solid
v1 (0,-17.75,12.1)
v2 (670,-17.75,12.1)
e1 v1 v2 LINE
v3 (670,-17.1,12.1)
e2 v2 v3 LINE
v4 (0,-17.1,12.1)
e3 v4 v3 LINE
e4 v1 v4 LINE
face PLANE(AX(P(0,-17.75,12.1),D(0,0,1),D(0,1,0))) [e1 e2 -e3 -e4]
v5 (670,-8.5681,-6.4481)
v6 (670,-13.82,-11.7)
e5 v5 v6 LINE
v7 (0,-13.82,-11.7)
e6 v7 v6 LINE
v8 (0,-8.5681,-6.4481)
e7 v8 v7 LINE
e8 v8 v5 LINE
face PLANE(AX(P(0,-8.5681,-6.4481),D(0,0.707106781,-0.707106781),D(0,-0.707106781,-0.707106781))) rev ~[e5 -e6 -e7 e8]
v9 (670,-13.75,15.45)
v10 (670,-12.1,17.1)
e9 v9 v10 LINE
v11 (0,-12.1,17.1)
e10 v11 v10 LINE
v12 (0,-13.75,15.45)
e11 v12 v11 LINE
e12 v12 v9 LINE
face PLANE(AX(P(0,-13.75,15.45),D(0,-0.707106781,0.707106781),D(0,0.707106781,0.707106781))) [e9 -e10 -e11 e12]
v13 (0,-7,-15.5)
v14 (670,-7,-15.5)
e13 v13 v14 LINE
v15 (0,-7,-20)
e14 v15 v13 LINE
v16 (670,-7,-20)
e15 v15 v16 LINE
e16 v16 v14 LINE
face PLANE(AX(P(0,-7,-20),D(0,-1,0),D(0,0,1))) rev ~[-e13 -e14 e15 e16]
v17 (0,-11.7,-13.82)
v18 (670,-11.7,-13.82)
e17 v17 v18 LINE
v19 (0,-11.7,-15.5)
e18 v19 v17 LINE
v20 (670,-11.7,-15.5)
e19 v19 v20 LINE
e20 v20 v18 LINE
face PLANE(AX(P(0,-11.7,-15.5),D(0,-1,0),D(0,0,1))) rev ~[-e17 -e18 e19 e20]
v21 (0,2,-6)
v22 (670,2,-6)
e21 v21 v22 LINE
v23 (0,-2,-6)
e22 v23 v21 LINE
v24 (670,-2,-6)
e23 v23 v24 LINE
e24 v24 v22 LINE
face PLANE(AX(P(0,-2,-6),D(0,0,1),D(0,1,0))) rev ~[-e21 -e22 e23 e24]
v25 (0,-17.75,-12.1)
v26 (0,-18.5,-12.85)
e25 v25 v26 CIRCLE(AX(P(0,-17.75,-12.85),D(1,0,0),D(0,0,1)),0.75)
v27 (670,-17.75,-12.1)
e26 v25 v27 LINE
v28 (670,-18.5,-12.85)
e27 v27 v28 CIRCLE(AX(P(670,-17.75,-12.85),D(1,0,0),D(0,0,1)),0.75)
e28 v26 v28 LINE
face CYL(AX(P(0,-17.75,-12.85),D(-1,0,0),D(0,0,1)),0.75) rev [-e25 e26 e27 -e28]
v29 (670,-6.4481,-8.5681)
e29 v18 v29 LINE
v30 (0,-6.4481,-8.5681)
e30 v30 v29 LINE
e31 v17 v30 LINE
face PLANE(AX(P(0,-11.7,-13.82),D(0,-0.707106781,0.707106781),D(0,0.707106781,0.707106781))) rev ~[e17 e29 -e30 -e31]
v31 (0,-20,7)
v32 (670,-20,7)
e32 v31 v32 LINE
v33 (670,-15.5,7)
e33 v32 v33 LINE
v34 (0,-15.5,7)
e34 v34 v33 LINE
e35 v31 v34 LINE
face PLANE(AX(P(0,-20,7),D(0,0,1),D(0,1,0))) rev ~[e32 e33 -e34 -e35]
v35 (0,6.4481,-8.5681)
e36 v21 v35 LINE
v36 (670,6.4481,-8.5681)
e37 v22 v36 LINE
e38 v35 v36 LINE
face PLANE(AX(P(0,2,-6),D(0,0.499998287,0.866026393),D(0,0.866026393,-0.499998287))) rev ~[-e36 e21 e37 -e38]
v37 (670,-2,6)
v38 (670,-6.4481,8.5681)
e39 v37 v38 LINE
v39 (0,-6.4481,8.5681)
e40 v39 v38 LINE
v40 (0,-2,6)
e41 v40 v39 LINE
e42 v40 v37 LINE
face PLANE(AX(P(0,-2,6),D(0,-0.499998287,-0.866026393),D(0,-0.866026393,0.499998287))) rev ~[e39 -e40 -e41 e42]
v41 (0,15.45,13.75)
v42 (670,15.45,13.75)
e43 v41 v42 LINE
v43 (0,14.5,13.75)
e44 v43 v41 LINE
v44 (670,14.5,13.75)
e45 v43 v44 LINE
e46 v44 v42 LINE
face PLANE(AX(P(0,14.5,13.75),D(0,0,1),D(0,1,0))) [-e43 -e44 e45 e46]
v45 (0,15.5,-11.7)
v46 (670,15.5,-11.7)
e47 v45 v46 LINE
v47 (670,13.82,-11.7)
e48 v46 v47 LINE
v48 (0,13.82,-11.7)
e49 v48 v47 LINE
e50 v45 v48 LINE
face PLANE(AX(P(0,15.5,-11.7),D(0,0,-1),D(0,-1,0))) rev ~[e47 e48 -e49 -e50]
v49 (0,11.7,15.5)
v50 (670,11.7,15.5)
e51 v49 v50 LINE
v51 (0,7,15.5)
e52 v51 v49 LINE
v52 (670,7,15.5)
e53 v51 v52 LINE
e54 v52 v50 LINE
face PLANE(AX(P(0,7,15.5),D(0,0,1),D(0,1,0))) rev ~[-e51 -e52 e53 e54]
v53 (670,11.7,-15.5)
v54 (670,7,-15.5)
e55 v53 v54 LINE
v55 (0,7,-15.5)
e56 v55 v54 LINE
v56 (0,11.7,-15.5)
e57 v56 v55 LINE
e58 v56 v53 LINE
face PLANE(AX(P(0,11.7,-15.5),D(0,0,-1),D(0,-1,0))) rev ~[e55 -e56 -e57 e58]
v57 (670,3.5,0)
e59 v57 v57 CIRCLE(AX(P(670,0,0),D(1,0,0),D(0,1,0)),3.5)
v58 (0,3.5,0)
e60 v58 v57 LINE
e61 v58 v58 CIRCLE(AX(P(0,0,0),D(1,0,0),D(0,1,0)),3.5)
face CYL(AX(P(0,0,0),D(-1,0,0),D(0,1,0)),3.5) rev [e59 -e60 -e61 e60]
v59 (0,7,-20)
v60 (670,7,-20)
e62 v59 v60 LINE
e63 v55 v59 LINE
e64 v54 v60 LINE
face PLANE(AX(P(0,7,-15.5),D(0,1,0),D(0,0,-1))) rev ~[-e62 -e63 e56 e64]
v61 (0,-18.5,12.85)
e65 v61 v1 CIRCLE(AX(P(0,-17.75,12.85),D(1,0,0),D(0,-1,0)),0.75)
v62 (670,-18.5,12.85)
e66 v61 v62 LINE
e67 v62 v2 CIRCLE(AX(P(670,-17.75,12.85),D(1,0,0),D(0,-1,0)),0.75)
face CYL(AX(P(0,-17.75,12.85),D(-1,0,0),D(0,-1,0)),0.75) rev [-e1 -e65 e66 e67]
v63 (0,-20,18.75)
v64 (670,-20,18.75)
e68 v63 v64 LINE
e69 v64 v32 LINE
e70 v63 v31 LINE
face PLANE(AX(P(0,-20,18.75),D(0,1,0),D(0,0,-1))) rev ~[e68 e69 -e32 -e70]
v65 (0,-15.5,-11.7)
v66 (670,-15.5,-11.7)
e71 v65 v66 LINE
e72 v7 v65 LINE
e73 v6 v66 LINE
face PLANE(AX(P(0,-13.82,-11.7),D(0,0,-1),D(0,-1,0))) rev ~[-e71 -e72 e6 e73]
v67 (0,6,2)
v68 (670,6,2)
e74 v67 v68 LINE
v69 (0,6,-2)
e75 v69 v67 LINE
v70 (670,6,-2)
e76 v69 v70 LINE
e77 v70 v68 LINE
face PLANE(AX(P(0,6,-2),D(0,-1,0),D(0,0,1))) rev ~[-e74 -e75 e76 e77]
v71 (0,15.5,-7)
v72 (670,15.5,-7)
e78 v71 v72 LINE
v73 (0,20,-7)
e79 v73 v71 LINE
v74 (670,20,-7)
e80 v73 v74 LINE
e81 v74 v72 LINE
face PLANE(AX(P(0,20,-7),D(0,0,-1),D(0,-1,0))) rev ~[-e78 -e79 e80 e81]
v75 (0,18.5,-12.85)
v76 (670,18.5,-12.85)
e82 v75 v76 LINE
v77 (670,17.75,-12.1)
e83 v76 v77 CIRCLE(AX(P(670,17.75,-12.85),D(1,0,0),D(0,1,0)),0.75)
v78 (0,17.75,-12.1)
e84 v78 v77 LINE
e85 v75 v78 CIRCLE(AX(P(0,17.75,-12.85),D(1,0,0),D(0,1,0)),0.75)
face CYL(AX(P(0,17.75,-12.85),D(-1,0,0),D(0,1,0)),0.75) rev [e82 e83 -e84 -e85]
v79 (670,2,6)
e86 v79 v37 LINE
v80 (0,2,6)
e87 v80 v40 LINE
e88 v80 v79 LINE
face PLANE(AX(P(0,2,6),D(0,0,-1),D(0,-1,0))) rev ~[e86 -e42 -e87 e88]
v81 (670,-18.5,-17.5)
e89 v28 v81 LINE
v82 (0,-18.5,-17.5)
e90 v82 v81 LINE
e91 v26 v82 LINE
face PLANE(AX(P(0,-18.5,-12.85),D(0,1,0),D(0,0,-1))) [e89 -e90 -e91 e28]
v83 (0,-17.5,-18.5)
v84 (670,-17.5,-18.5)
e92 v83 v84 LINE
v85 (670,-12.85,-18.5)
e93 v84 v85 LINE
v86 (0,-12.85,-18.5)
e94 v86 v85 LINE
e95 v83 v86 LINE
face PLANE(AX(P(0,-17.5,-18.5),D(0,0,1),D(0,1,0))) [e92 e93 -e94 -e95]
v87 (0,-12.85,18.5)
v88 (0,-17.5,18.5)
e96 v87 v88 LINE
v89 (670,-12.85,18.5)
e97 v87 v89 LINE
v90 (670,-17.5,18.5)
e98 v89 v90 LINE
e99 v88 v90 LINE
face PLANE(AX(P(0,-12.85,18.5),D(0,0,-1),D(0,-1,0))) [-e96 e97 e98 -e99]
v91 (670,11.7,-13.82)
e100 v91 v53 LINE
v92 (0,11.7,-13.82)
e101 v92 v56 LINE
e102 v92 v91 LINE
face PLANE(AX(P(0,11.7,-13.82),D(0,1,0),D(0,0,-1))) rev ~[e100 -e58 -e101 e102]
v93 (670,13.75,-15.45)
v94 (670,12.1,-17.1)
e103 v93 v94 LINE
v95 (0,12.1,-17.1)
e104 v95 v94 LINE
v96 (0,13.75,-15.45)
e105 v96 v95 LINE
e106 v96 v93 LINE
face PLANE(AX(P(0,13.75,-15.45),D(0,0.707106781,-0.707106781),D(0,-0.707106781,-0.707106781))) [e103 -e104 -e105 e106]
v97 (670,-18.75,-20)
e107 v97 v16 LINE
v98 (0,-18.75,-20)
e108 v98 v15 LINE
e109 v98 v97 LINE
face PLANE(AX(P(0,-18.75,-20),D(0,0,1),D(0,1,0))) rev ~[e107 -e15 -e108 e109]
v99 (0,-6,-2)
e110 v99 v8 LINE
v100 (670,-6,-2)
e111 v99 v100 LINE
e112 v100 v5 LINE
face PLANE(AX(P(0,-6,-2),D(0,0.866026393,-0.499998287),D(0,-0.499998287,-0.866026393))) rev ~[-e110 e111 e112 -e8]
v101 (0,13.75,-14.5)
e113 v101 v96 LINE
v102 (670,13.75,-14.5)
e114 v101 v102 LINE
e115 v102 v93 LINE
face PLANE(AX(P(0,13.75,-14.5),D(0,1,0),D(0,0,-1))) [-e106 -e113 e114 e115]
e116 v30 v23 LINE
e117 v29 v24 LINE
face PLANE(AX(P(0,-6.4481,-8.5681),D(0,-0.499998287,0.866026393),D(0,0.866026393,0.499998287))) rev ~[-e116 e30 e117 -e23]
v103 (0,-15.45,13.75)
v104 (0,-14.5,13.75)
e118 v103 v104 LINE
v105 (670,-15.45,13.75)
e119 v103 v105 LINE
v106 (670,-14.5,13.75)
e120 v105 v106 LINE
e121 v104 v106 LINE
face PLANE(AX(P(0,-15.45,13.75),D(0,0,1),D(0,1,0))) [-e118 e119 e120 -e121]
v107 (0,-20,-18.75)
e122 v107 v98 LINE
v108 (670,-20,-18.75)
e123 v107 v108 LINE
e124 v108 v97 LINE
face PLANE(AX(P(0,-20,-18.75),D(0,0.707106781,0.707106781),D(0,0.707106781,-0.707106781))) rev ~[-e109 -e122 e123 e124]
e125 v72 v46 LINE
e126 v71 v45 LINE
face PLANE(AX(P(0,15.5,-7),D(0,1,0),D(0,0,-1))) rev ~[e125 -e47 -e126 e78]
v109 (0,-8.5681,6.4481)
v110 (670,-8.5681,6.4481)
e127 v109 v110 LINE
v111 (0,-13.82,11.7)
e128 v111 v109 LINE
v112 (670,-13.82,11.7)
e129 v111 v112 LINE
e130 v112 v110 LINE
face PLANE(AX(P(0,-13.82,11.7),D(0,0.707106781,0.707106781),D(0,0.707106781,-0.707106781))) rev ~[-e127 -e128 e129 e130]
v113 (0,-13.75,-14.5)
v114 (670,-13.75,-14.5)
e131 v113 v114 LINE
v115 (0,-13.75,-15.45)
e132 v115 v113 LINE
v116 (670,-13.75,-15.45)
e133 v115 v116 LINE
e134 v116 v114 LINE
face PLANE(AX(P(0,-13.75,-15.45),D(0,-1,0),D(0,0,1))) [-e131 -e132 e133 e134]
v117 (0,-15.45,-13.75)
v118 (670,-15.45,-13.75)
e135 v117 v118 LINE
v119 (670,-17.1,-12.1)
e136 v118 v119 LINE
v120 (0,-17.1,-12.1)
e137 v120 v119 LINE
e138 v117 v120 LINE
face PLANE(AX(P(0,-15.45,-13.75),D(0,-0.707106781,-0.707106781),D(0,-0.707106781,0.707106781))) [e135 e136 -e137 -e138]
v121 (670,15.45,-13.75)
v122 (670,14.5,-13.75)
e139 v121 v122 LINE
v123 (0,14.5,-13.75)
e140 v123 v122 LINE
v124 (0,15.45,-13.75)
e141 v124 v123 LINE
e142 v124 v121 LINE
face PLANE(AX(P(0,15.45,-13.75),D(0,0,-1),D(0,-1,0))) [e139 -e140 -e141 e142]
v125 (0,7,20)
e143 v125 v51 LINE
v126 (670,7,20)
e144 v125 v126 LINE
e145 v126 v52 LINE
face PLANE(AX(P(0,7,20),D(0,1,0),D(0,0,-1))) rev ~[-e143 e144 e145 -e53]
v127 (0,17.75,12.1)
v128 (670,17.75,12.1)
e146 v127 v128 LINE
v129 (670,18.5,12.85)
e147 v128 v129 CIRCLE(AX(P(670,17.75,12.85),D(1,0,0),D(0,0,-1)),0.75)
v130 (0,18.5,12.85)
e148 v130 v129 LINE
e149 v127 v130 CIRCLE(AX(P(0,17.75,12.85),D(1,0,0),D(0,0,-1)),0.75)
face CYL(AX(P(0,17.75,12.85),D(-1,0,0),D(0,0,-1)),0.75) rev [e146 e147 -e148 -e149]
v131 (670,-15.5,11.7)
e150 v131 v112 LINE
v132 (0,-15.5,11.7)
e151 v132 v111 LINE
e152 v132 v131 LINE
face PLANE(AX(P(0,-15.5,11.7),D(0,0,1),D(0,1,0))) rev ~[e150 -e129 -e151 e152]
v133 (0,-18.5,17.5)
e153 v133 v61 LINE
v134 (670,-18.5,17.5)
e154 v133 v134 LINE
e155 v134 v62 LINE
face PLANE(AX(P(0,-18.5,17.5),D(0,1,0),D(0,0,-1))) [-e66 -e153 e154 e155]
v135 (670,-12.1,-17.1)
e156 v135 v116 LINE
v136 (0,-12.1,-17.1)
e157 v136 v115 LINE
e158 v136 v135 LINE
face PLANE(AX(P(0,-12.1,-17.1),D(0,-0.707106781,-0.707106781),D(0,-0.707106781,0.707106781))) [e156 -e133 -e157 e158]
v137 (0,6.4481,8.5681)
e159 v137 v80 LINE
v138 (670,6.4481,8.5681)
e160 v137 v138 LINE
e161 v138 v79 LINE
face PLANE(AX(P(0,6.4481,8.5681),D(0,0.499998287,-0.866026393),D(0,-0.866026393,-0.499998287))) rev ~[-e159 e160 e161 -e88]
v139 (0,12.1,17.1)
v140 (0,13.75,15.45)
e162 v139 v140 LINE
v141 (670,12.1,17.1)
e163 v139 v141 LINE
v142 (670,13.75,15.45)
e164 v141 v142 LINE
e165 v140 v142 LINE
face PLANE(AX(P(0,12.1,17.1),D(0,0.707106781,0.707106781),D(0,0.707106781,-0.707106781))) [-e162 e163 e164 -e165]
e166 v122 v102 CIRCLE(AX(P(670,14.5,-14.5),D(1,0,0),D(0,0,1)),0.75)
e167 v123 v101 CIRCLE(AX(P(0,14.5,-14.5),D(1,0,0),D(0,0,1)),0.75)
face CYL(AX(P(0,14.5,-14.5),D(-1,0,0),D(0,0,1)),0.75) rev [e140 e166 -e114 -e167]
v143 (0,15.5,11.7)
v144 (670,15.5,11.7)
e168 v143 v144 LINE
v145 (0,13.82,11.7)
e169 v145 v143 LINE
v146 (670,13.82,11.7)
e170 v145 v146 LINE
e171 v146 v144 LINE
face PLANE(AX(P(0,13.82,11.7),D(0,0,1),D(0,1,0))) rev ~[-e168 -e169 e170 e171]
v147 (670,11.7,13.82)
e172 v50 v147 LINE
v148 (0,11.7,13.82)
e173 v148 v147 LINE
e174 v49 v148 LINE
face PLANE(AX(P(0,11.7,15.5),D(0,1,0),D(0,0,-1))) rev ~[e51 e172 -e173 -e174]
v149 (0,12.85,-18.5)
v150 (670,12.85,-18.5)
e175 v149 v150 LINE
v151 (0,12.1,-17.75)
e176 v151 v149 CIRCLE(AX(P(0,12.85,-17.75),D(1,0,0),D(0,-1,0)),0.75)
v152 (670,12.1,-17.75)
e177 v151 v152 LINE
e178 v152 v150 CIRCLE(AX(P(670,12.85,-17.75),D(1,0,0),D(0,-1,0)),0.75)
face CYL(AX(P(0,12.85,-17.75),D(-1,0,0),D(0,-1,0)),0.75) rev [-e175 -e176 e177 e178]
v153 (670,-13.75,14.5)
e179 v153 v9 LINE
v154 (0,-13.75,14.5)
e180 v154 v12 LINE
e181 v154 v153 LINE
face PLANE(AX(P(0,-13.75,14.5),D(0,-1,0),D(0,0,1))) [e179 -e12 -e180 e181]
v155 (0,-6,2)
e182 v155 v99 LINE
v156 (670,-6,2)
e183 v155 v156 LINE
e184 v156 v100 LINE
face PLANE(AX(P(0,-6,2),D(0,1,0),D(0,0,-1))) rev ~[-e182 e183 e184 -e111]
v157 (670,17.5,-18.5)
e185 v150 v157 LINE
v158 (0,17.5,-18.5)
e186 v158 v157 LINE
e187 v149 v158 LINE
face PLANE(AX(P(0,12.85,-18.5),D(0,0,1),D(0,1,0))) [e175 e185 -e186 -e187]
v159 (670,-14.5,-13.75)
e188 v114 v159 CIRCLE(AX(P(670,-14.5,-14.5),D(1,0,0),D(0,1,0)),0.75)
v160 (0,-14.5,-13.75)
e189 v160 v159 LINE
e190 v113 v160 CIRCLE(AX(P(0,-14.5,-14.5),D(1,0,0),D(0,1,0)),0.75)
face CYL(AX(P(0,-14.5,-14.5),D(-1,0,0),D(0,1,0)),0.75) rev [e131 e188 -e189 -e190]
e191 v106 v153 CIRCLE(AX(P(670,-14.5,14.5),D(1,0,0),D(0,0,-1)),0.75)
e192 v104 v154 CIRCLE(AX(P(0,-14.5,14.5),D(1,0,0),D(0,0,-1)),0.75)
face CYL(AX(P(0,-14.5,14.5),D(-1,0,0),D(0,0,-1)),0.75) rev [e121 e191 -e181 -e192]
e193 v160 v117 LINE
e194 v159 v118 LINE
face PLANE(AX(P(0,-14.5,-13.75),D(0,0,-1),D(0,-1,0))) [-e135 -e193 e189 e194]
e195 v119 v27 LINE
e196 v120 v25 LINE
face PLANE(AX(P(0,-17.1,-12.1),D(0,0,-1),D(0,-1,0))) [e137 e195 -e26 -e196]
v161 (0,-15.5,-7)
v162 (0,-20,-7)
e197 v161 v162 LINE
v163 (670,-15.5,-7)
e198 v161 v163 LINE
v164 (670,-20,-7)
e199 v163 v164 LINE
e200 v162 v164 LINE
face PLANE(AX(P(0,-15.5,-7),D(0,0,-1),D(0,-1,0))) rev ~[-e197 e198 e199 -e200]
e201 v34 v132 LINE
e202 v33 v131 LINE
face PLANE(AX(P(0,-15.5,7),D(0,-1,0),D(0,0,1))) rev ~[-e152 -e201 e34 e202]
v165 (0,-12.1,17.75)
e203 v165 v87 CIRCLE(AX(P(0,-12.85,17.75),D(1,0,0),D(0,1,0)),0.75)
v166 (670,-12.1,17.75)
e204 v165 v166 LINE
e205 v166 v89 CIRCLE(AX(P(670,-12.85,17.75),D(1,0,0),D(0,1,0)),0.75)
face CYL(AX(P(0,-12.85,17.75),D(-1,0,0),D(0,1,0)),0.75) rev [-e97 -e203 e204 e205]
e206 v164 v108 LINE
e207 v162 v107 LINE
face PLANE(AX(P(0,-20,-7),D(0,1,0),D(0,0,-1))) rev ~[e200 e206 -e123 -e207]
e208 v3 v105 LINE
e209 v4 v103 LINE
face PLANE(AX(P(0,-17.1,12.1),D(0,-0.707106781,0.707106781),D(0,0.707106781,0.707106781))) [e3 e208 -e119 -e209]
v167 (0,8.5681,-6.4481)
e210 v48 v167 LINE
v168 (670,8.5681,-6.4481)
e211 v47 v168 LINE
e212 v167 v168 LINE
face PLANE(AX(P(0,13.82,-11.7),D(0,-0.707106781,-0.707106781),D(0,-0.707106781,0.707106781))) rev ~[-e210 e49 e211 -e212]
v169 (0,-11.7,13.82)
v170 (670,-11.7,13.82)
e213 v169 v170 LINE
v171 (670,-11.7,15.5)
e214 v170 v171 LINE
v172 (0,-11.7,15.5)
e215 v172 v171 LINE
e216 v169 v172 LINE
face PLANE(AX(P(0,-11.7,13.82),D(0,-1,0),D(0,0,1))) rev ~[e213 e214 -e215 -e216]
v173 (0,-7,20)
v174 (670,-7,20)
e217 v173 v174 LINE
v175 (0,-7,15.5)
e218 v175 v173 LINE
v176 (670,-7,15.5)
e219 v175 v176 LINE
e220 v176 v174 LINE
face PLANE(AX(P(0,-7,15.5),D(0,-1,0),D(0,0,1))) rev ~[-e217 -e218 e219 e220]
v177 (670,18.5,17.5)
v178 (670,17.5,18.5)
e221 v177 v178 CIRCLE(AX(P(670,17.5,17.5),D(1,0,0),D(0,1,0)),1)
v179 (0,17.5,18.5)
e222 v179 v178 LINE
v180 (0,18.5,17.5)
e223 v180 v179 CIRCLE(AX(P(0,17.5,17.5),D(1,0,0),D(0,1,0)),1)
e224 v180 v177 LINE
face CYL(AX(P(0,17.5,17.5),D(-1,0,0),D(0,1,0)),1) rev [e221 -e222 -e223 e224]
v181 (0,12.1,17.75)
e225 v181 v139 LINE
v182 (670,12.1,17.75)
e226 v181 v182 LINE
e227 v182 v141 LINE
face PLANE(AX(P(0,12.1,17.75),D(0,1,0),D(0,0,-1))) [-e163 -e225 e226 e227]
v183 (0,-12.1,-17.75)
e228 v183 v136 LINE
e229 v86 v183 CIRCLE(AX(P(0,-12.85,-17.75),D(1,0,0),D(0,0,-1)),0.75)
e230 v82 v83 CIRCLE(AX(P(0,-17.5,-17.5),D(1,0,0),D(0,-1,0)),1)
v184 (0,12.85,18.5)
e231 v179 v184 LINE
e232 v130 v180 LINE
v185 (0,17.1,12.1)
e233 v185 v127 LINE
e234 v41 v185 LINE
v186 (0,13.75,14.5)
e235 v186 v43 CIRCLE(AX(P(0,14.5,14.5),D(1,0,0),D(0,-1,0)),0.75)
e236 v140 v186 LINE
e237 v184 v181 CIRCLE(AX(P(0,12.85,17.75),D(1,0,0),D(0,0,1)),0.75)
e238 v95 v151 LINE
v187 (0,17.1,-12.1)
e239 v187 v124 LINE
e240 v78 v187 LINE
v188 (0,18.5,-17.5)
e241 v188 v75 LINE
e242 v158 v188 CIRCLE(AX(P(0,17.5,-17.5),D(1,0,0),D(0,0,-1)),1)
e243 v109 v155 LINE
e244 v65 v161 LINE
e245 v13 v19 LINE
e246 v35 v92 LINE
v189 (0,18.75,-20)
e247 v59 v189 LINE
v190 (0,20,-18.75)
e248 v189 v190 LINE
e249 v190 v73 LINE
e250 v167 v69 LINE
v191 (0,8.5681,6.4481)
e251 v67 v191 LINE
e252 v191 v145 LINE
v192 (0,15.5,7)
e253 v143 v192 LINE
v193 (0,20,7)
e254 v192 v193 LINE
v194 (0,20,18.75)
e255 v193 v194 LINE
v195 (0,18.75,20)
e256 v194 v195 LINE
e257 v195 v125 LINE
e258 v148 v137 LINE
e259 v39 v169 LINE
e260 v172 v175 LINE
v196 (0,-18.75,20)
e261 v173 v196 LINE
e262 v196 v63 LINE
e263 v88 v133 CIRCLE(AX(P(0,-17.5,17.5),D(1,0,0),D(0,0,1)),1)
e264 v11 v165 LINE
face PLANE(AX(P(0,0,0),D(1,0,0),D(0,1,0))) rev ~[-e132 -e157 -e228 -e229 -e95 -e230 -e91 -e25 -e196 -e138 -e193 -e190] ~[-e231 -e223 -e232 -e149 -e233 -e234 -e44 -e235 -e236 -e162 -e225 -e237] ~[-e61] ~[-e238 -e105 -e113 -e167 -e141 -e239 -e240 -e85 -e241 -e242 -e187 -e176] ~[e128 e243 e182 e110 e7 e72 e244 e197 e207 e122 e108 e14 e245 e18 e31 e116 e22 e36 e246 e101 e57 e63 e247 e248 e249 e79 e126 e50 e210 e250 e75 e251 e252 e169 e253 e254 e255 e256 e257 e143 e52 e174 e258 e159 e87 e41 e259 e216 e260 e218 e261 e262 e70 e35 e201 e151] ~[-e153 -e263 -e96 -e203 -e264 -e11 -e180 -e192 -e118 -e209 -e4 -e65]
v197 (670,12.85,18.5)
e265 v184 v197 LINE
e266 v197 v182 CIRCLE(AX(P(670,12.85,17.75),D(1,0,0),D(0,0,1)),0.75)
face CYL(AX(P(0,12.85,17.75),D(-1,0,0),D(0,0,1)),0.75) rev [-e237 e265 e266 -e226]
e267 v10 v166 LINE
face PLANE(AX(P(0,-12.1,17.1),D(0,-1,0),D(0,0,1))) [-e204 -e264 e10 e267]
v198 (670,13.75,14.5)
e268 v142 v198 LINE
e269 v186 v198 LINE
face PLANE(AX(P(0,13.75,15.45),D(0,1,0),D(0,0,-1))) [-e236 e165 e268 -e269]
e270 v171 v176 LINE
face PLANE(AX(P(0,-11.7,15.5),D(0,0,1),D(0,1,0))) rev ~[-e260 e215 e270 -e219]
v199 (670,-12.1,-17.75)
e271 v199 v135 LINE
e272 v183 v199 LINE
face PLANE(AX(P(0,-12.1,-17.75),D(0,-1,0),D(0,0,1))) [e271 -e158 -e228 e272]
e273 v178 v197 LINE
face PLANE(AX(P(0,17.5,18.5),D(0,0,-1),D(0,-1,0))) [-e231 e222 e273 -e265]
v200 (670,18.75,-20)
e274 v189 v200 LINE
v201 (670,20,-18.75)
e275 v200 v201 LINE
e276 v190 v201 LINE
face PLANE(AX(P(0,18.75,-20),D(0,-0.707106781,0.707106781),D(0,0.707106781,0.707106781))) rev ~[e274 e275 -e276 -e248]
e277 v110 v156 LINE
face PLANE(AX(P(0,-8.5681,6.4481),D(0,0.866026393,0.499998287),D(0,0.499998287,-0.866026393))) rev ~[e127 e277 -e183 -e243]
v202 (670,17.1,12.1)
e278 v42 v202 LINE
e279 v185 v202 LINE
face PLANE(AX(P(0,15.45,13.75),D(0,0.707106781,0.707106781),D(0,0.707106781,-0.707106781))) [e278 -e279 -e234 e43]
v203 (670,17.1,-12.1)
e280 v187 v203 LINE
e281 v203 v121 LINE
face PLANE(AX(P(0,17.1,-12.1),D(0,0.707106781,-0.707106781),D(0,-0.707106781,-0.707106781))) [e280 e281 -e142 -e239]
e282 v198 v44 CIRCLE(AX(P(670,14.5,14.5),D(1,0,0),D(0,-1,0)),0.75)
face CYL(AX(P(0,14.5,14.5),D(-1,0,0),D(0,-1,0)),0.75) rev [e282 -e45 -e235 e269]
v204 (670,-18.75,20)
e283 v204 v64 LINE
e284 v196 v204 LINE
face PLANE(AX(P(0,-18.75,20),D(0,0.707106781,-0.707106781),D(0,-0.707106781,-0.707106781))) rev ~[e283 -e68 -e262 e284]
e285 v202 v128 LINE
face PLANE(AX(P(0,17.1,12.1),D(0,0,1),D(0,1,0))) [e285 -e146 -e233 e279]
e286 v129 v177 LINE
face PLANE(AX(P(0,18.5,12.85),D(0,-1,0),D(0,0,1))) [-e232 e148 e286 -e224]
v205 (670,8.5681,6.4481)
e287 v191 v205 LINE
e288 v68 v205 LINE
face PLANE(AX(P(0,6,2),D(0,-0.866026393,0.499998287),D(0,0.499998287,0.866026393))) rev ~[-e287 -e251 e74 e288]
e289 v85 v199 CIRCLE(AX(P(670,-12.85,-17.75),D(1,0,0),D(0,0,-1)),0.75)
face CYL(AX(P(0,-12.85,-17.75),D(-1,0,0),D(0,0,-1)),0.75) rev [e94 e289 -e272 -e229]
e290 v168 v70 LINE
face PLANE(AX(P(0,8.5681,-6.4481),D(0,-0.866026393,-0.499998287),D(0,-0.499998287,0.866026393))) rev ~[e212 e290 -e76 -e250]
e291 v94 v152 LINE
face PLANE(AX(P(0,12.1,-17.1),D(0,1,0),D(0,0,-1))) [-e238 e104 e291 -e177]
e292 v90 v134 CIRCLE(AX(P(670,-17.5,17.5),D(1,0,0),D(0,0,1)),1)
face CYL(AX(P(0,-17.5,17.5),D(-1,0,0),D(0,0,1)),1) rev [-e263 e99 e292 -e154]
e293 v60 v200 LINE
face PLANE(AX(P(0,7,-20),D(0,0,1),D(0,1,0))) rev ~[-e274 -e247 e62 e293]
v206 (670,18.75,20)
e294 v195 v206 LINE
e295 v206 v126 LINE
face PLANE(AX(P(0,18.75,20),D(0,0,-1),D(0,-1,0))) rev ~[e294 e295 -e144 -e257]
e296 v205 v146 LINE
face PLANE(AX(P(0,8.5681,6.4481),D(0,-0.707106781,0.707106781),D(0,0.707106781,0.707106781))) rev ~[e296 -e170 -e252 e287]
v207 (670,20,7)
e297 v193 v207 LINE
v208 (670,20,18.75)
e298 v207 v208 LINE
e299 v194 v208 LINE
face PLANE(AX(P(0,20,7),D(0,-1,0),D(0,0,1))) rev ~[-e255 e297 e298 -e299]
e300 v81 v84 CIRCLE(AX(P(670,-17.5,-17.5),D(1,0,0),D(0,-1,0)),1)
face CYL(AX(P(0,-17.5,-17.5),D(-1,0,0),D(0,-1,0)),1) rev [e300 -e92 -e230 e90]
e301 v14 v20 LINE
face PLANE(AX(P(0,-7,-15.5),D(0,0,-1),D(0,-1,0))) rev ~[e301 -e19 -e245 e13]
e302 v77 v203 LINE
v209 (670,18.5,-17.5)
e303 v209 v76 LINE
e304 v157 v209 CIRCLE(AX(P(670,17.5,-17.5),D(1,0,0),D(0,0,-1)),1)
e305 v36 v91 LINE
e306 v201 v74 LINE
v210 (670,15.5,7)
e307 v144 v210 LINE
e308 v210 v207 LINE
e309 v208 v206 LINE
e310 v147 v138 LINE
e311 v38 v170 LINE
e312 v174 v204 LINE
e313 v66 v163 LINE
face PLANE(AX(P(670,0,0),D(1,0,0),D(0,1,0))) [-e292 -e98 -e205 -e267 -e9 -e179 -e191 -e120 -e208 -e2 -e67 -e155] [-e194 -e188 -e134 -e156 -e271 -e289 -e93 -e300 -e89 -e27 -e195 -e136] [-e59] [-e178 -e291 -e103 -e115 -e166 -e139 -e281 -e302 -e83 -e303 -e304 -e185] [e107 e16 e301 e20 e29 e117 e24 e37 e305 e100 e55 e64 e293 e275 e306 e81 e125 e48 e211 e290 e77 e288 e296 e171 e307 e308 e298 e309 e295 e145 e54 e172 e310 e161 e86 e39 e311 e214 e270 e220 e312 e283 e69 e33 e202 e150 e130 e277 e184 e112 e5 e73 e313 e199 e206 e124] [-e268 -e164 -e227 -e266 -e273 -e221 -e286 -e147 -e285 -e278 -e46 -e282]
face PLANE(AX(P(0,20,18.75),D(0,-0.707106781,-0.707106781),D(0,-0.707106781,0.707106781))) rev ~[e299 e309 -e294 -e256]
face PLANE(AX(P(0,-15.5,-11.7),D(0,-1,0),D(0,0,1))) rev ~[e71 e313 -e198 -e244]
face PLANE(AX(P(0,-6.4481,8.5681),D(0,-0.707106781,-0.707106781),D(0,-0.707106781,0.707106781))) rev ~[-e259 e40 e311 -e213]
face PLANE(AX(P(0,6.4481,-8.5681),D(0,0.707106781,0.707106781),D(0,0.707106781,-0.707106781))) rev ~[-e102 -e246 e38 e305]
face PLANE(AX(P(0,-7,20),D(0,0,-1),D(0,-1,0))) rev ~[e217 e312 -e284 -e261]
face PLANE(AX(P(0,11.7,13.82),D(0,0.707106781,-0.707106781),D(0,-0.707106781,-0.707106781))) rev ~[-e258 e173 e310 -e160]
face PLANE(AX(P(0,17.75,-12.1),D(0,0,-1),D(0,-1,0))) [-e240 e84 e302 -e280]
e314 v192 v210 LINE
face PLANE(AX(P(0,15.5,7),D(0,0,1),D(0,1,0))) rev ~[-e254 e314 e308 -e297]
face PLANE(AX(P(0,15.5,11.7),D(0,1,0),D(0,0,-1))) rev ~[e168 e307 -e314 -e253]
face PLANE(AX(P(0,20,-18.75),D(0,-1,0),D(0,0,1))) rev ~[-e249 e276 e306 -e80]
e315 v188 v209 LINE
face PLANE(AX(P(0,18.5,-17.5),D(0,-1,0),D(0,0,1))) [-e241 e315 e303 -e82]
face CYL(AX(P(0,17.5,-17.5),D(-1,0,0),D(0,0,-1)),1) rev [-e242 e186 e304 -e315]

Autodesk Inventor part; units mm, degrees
sketch "Skizze_1" plane through (0, 0, 0) normal (1, 0, 0) x (0, 1, 0)
  line L0 (18.75, 20) -> (7, 20)
  line L1 (7, 20) -> (7, 15.5)
  line L2 (7, 15.5) -> (11.7, 15.5)
  line L3 (11.7, 15.5) -> (11.7, 13.82)
  line L4 (11.7, 13.82) -> (6.4481, 8.5681)
  line L5 (6.4481, 8.5681) -> (2, 6)
  line L6 (2, 6) -> (-2, 6)
  line L7 (-2, 6) -> (-6.4481, 8.5681)
  line L8 (-6.4481, 8.5681) -> (-11.7, 13.82)
  line L9 (-11.7, 13.82) -> (-11.7, 15.5)
  line L10 (-11.7, 15.5) -> (-7, 15.5)
  line L11 (-7, 15.5) -> (-7, 20)
  line L12 (-7, 20) -> (-18.75, 20)
  line L13 (-18.75, 20) -> (-20, 18.75)
  line L14 (-20, 18.75) -> (-20, 7)
  line L15 (-20, 7) -> (-15.5, 7)
  line L16 (-15.5, 7) -> (-15.5, 11.7)
  line L17 (-15.5, 11.7) -> (-13.82, 11.7)
  line L18 (-13.82, 11.7) -> (-8.5681, 6.4481)
  line L19 (-8.5681, 6.4481) -> (-6, 2)
  line L20 (-6, 2) -> (-6, -2)
  line L21 (-6, -2) -> (-8.5681, -6.4481)
  line L22 (-8.5681, -6.4481) -> (-13.82, -11.7)
  line L23 (-13.82, -11.7) -> (-15.5, -11.7)
  line L24 (-15.5, -11.7) -> (-15.5, -7)
  line L25 (-15.5, -7) -> (-20, -7)
  line L26 (-20, -7) -> (-20, -18.75)
  line L27 (-20, -18.75) -> (-18.75, -20)
  line L28 (-18.75, -20) -> (-7, -20)
  line L29 (-7, -20) -> (-7, -15.5)
  line L30 (-7, -15.5) -> (-11.7, -15.5)
  line L31 (-11.7, -15.5) -> (-11.7, -13.82)
  line L32 (-11.7, -13.82) -> (-6.4481, -8.5681)
  line L33 (-6.4481, -8.5681) -> (-2, -6)
  line L34 (-2, -6) -> (2, -6)
  line L35 (2, -6) -> (6.4481, -8.5681)
  line L36 (6.4481, -8.5681) -> (11.7, -13.82)
  line L37 (11.7, -13.82) -> (11.7, -15.5)
  line L38 (11.7, -15.5) -> (7, -15.5)
  line L39 (7, -15.5) -> (7, -20)
  line L40 (7, -20) -> (18.75, -20)
  line L41 (18.75, -20) -> (20, -18.75)
  line L42 (20, -18.75) -> (20, -7)
  line L43 (20, -7) -> (15.5, -7)
  line L44 (15.5, -7) -> (15.5, -11.7)
  line L45 (15.5, -11.7) -> (13.82, -11.7)
  line L46 (13.82, -11.7) -> (8.5681, -6.4481)
  line L47 (8.5681, -6.4481) -> (6, -2)
  line L48 (6, -2) -> (6, 2)
  line L49 (6, 2) -> (8.5681, 6.4481)
  line L50 (8.5681, 6.4481) -> (13.82, 11.7)
  line L51 (13.82, 11.7) -> (15.5, 11.7)
  line L52 (15.5, 11.7) -> (15.5, 7)
  line L53 (15.5, 7) -> (20, 7)
  line L54 (20, 7) -> (20, 18.75)
  line L55 (20, 18.75) -> (18.75, 20)
  line L56 (17.75, -12.1) -> (17.1, -12.1)
  line L57 (17.1, -12.1) -> (15.45, -13.75)
  line L58 (15.45, -13.75) -> (14.5, -13.75)
  arc A0 (14.5, -13.75) -> (13.75, -14.5) centre (14.5, -14.5) ccw
  line L59 (13.75, -14.5) -> (13.75, -15.45)
  line L60 (13.75, -15.45) -> (12.1, -17.1)
  line L61 (12.1, -17.1) -> (12.1, -17.75)
  arc A1 (12.1, -17.75) -> (12.85, -18.5) centre (12.85, -17.75) ccw
  line L62 (12.85, -18.5) -> (17.5, -18.5)
  arc A2 (17.5, -18.5) -> (18.5, -17.5) centre (17.5, -17.5) ccw
  line L63 (18.5, -17.5) -> (18.5, -12.85)
  arc A3 (18.5, -12.85) -> (17.75, -12.1) centre (17.75, -12.85) ccw
  line L64 (-17.1, -12.1) -> (-17.75, -12.1)
  arc A4 (-17.75, -12.1) -> (-18.5, -12.85) centre (-17.75, -12.85) ccw
  line L65 (-18.5, -12.85) -> (-18.5, -17.5)
  arc A5 (-18.5, -17.5) -> (-17.5, -18.5) centre (-17.5, -17.5) ccw
  line L66 (-17.5, -18.5) -> (-12.85, -18.5)
  arc A6 (-12.85, -18.5) -> (-12.1, -17.75) centre (-12.85, -17.75) ccw
  line L67 (-12.1, -17.75) -> (-12.1, -17.1)
  line L68 (-12.1, -17.1) -> (-13.75, -15.45)
  line L69 (-13.75, -15.45) -> (-13.75, -14.5)
  arc A7 (-13.75, -14.5) -> (-14.5, -13.75) centre (-14.5, -14.5) ccw
  line L70 (-14.5, -13.75) -> (-15.45, -13.75)
  line L71 (-15.45, -13.75) -> (-17.1, -12.1)
  circle A8 centre (0, 0) radius 3.5
  arc A9 (-17.5, 18.5) -> (-18.5, 17.5) centre (-17.5, 17.5) ccw
  line L72 (-18.5, 17.5) -> (-18.5, 12.85)
  arc A10 (-18.5, 12.85) -> (-17.75, 12.1) centre (-17.75, 12.85) ccw
  line L73 (-17.75, 12.1) -> (-17.1, 12.1)
  line L74 (-17.1, 12.1) -> (-15.45, 13.75)
  line L75 (-15.45, 13.75) -> (-14.5, 13.75)
  arc A11 (-14.5, 13.75) -> (-13.75, 14.5) centre (-14.5, 14.5) ccw
  line L76 (-13.75, 14.5) -> (-13.75, 15.45)
  line L77 (-13.75, 15.45) -> (-12.1, 17.1)
  line L78 (-12.1, 17.1) -> (-12.1, 17.75)
  arc A12 (-12.1, 17.75) -> (-12.85, 18.5) centre (-12.85, 17.75) ccw
  line L79 (-12.85, 18.5) -> (-17.5, 18.5)
  line L80 (17.5, 18.5) -> (12.85, 18.5)
  arc A13 (12.85, 18.5) -> (12.1, 17.75) centre (12.85, 17.75) ccw
  line L81 (12.1, 17.75) -> (12.1, 17.1)
  line L82 (12.1, 17.1) -> (13.75, 15.45)
  line L83 (13.75, 15.45) -> (13.75, 14.5)
  arc A14 (13.75, 14.5) -> (14.5, 13.75) centre (14.5, 14.5) ccw
  line L84 (14.5, 13.75) -> (15.45, 13.75)
  line L85 (15.45, 13.75) -> (17.1, 12.1)
  line L86 (17.1, 12.1) -> (17.75, 12.1)
  arc A15 (17.75, 12.1) -> (18.5, 12.85) centre (17.75, 12.85) ccw
  line L87 (18.5, 12.85) -> (18.5, 17.5)
  arc A16 (18.5, 17.5) -> (17.5, 18.5) centre (17.5, 17.5) ccw
extrude "Extrusion1" add sketch "Skizze_1" along normal blind 670
ref_plane "CS_ANBAU_HINTEN_LINKS_XY" through (670, 0, 20) normal (1, 0, 0) x (0, 0, -1)
ref_plane "CS_ANBAU_HINTEN_LINKS_YZ" through (670, 0, 20) normal (0, 0, -1) x (0, 1, 0)
ref_plane "CS_ANBAU_HINTEN_LINKS_ZX" through (670, 0, 20) normal (0, 1, 0) x (1, 0, 0)
ref_plane "CS_ANBAU_HINTEN_OBEN_XY" through (670, 20, 0) normal (1, 0, 0) x (0, 0, -1)
ref_plane "CS_ANBAU_HINTEN_OBEN_YZ" through (670, 20, 0) normal (0, 0, -1) x (0, 1, 0)
ref_plane "CS_ANBAU_HINTEN_OBEN_ZX" through (670, 20, 0) normal (0, 1, 0) x (1, 0, 0)
ref_plane "CS_ANBAU_HINTEN_RECHTS_XY" through (670, 0, -20) normal (1, 0, 0) x (0, 0, -1)
ref_plane "CS_ANBAU_HINTEN_RECHTS_YZ" through (670, 0, -20) normal (0, 0, -1) x (0, 1, 0)
ref_plane "CS_ANBAU_HINTEN_RECHTS_ZX" through (670, 0, -20) normal (0, 1, 0) x (1, 0, 0)
ref_plane "CS_ANBAU_HINTEN_UNTEN_XY" through (670, -20, 0) normal (1, 0, 0) x (0, 0, -1)
ref_plane "CS_ANBAU_HINTEN_UNTEN_YZ" through (670, -20, 0) normal (0, 0, -1) x (0, 1, 0)
ref_plane "CS_ANBAU_HINTEN_UNTEN_ZX" through (670, -20, 0) normal (0, 1, 0) x (1, 0, 0)
ref_plane "CS_ANBAU_QUER_XY" through (0, 0, 20) normal (0, 0, 1) x (1, 0, 0)
ref_plane "CS_ANBAU_QUER_YZ" through (0, 0, 20) normal (1, 0, 0) x (0, 1, 0)
ref_plane "CS_ANBAU_QUER_ZX" through (0, 0, 20) normal (0, 1, 0) x (0, 0, 1)
ref_plane "CS_ANBAU_QUER_1_XY" through (670, 0, 20) normal (0, 0, 1) x (1, 0, 0)
ref_plane "CS_ANBAU_QUER_1_YZ" through (670, 0, 20) normal (1, 0, 0) x (0, 1, 0)
ref_plane "CS_ANBAU_QUER_1_ZX" through (670, 0, 20) normal (0, 1, 0) x (0, 0, 1)
ref_plane "CS_ANBAU_VORNE_LINKS_XY" through (0, 0, 20) normal (-1, 0, 0) x (0, 0, -1)
ref_plane "CS_ANBAU_VORNE_LINKS_YZ" through (0, 0, 20) normal (0, 0, -1) x (0, -1, 0)
ref_plane "CS_ANBAU_VORNE_LINKS_ZX" through (0, 0, 20) normal (0, -1, 0) x (-1, 0, 0)
ref_plane "CS_ANBAU_VORNE_OBEN_XY" through (0, 20, 0) normal (-1, 0, 0) x (0, 0, -1)
ref_plane "CS_ANBAU_VORNE_OBEN_YZ" through (0, 20, 0) normal (0, 0, -1) x (0, -1, 0)
ref_plane "CS_ANBAU_VORNE_OBEN_ZX" through (0, 20, 0) normal (0, -1, 0) x (-1, 0, 0)
ref_plane "CS_ANBAU_VORNE_RECHTS_XY" through (0, 0, -20) normal (-1, 0, 0) x (0, 0, -1)
ref_plane "CS_ANBAU_VORNE_RECHTS_YZ" through (0, 0, -20) normal (0, 0, -1) x (0, -1, 0)
ref_plane "CS_ANBAU_VORNE_RECHTS_ZX" through (0, 0, -20) normal (0, -1, 0) x (-1, 0, 0)
ref_plane "CS_ANBAU_VORNE_UNTEN_XY" through (0, -20, 0) normal (-1, 0, 0) x (0, 0, -1)
ref_plane "CS_ANBAU_VORNE_UNTEN_YZ" through (0, -20, 0) normal (0, 0, -1) x (0, -1, 0)
ref_plane "CS_ANBAU_VORNE_UNTEN_ZX" through (0, -20, 0) normal (0, -1, 0) x (-1, 0, 0)
ref_plane "p1_XY" through (0, 20, 0) normal (0, 0, 1) x (1, 0, 0)
ref_plane "p1_YZ" through (0, 20, 0) normal (1, 0, 0) x (0, 1, 0)
ref_plane "p1_ZX" through (0, 20, 0) normal (0, 1, 0) x (0, 0, 1)
ref_plane "p2_XY" through (670, 20, 0) normal (0, 0, 1) x (1, 0, 0)
ref_plane "p2_YZ" through (670, 20, 0) normal (1, 0, 0) x (0, 1, 0)
ref_plane "p2_ZX" through (670, 20, 0) normal (0, 1, 0) x (0, 0, 1)
ref_plane "p3_XY" through (670, -20, 18.75) normal (1, 0, 0) x (0, 0, -1)
ref_plane "p3_YZ" through (670, -20, 18.75) normal (0, 0, -1) x (0, 1, 0)
ref_plane "p3_ZX" through (670, -20, 18.75) normal (0, 1, 0) x (1, 0, 0)
ref_plane "p4_XY" through (670, 20, 18.75) normal (1, 0, 0) x (0, 0, -1)
ref_plane "p4_YZ" through (670, 20, 18.75) normal (0, 0, -1) x (0, 1, 0)
ref_plane "p4_ZX" through (670, 20, 18.75) normal (0, 1, 0) x (1, 0, 0)
ref_plane "p5_XY" through (670, 20, -21.25) normal (1, 0, 0) x (0, 0, -1)
ref_plane "p5_YZ" through (670, 20, -21.25) normal (0, 0, -1) x (0, 1, 0)
ref_plane "p5_ZX" through (670, 20, -21.25) normal (0, 1, 0) x (1, 0, 0)
ref_plane "pm1_XY" through (0, 0, 0) normal (1, 0, 0) x (0, 0, -1)
ref_plane "pm1_YZ" through (0, 0, 0) normal (0, 0, -1) x (0, 1, 0)
ref_plane "pm1_ZX" through (0, 0, 0) normal (0, 1, 0) x (1, 0, 0)
ref_plane "pm2_XY" through (670, 0, -1.25) normal (1, 0, 0) x (0, 0, -1)
ref_plane "pm2_YZ" through (670, 0, -1.25) normal (0, 0, -1) x (0, 1, 0)
ref_plane "pm2_ZX" through (670, 0, -1.25) normal (0, 1, 0) x (1, 0, 0)
properties part number "Robotunits Profil 40 x 40 - PIL 4040 SNN 0670"
